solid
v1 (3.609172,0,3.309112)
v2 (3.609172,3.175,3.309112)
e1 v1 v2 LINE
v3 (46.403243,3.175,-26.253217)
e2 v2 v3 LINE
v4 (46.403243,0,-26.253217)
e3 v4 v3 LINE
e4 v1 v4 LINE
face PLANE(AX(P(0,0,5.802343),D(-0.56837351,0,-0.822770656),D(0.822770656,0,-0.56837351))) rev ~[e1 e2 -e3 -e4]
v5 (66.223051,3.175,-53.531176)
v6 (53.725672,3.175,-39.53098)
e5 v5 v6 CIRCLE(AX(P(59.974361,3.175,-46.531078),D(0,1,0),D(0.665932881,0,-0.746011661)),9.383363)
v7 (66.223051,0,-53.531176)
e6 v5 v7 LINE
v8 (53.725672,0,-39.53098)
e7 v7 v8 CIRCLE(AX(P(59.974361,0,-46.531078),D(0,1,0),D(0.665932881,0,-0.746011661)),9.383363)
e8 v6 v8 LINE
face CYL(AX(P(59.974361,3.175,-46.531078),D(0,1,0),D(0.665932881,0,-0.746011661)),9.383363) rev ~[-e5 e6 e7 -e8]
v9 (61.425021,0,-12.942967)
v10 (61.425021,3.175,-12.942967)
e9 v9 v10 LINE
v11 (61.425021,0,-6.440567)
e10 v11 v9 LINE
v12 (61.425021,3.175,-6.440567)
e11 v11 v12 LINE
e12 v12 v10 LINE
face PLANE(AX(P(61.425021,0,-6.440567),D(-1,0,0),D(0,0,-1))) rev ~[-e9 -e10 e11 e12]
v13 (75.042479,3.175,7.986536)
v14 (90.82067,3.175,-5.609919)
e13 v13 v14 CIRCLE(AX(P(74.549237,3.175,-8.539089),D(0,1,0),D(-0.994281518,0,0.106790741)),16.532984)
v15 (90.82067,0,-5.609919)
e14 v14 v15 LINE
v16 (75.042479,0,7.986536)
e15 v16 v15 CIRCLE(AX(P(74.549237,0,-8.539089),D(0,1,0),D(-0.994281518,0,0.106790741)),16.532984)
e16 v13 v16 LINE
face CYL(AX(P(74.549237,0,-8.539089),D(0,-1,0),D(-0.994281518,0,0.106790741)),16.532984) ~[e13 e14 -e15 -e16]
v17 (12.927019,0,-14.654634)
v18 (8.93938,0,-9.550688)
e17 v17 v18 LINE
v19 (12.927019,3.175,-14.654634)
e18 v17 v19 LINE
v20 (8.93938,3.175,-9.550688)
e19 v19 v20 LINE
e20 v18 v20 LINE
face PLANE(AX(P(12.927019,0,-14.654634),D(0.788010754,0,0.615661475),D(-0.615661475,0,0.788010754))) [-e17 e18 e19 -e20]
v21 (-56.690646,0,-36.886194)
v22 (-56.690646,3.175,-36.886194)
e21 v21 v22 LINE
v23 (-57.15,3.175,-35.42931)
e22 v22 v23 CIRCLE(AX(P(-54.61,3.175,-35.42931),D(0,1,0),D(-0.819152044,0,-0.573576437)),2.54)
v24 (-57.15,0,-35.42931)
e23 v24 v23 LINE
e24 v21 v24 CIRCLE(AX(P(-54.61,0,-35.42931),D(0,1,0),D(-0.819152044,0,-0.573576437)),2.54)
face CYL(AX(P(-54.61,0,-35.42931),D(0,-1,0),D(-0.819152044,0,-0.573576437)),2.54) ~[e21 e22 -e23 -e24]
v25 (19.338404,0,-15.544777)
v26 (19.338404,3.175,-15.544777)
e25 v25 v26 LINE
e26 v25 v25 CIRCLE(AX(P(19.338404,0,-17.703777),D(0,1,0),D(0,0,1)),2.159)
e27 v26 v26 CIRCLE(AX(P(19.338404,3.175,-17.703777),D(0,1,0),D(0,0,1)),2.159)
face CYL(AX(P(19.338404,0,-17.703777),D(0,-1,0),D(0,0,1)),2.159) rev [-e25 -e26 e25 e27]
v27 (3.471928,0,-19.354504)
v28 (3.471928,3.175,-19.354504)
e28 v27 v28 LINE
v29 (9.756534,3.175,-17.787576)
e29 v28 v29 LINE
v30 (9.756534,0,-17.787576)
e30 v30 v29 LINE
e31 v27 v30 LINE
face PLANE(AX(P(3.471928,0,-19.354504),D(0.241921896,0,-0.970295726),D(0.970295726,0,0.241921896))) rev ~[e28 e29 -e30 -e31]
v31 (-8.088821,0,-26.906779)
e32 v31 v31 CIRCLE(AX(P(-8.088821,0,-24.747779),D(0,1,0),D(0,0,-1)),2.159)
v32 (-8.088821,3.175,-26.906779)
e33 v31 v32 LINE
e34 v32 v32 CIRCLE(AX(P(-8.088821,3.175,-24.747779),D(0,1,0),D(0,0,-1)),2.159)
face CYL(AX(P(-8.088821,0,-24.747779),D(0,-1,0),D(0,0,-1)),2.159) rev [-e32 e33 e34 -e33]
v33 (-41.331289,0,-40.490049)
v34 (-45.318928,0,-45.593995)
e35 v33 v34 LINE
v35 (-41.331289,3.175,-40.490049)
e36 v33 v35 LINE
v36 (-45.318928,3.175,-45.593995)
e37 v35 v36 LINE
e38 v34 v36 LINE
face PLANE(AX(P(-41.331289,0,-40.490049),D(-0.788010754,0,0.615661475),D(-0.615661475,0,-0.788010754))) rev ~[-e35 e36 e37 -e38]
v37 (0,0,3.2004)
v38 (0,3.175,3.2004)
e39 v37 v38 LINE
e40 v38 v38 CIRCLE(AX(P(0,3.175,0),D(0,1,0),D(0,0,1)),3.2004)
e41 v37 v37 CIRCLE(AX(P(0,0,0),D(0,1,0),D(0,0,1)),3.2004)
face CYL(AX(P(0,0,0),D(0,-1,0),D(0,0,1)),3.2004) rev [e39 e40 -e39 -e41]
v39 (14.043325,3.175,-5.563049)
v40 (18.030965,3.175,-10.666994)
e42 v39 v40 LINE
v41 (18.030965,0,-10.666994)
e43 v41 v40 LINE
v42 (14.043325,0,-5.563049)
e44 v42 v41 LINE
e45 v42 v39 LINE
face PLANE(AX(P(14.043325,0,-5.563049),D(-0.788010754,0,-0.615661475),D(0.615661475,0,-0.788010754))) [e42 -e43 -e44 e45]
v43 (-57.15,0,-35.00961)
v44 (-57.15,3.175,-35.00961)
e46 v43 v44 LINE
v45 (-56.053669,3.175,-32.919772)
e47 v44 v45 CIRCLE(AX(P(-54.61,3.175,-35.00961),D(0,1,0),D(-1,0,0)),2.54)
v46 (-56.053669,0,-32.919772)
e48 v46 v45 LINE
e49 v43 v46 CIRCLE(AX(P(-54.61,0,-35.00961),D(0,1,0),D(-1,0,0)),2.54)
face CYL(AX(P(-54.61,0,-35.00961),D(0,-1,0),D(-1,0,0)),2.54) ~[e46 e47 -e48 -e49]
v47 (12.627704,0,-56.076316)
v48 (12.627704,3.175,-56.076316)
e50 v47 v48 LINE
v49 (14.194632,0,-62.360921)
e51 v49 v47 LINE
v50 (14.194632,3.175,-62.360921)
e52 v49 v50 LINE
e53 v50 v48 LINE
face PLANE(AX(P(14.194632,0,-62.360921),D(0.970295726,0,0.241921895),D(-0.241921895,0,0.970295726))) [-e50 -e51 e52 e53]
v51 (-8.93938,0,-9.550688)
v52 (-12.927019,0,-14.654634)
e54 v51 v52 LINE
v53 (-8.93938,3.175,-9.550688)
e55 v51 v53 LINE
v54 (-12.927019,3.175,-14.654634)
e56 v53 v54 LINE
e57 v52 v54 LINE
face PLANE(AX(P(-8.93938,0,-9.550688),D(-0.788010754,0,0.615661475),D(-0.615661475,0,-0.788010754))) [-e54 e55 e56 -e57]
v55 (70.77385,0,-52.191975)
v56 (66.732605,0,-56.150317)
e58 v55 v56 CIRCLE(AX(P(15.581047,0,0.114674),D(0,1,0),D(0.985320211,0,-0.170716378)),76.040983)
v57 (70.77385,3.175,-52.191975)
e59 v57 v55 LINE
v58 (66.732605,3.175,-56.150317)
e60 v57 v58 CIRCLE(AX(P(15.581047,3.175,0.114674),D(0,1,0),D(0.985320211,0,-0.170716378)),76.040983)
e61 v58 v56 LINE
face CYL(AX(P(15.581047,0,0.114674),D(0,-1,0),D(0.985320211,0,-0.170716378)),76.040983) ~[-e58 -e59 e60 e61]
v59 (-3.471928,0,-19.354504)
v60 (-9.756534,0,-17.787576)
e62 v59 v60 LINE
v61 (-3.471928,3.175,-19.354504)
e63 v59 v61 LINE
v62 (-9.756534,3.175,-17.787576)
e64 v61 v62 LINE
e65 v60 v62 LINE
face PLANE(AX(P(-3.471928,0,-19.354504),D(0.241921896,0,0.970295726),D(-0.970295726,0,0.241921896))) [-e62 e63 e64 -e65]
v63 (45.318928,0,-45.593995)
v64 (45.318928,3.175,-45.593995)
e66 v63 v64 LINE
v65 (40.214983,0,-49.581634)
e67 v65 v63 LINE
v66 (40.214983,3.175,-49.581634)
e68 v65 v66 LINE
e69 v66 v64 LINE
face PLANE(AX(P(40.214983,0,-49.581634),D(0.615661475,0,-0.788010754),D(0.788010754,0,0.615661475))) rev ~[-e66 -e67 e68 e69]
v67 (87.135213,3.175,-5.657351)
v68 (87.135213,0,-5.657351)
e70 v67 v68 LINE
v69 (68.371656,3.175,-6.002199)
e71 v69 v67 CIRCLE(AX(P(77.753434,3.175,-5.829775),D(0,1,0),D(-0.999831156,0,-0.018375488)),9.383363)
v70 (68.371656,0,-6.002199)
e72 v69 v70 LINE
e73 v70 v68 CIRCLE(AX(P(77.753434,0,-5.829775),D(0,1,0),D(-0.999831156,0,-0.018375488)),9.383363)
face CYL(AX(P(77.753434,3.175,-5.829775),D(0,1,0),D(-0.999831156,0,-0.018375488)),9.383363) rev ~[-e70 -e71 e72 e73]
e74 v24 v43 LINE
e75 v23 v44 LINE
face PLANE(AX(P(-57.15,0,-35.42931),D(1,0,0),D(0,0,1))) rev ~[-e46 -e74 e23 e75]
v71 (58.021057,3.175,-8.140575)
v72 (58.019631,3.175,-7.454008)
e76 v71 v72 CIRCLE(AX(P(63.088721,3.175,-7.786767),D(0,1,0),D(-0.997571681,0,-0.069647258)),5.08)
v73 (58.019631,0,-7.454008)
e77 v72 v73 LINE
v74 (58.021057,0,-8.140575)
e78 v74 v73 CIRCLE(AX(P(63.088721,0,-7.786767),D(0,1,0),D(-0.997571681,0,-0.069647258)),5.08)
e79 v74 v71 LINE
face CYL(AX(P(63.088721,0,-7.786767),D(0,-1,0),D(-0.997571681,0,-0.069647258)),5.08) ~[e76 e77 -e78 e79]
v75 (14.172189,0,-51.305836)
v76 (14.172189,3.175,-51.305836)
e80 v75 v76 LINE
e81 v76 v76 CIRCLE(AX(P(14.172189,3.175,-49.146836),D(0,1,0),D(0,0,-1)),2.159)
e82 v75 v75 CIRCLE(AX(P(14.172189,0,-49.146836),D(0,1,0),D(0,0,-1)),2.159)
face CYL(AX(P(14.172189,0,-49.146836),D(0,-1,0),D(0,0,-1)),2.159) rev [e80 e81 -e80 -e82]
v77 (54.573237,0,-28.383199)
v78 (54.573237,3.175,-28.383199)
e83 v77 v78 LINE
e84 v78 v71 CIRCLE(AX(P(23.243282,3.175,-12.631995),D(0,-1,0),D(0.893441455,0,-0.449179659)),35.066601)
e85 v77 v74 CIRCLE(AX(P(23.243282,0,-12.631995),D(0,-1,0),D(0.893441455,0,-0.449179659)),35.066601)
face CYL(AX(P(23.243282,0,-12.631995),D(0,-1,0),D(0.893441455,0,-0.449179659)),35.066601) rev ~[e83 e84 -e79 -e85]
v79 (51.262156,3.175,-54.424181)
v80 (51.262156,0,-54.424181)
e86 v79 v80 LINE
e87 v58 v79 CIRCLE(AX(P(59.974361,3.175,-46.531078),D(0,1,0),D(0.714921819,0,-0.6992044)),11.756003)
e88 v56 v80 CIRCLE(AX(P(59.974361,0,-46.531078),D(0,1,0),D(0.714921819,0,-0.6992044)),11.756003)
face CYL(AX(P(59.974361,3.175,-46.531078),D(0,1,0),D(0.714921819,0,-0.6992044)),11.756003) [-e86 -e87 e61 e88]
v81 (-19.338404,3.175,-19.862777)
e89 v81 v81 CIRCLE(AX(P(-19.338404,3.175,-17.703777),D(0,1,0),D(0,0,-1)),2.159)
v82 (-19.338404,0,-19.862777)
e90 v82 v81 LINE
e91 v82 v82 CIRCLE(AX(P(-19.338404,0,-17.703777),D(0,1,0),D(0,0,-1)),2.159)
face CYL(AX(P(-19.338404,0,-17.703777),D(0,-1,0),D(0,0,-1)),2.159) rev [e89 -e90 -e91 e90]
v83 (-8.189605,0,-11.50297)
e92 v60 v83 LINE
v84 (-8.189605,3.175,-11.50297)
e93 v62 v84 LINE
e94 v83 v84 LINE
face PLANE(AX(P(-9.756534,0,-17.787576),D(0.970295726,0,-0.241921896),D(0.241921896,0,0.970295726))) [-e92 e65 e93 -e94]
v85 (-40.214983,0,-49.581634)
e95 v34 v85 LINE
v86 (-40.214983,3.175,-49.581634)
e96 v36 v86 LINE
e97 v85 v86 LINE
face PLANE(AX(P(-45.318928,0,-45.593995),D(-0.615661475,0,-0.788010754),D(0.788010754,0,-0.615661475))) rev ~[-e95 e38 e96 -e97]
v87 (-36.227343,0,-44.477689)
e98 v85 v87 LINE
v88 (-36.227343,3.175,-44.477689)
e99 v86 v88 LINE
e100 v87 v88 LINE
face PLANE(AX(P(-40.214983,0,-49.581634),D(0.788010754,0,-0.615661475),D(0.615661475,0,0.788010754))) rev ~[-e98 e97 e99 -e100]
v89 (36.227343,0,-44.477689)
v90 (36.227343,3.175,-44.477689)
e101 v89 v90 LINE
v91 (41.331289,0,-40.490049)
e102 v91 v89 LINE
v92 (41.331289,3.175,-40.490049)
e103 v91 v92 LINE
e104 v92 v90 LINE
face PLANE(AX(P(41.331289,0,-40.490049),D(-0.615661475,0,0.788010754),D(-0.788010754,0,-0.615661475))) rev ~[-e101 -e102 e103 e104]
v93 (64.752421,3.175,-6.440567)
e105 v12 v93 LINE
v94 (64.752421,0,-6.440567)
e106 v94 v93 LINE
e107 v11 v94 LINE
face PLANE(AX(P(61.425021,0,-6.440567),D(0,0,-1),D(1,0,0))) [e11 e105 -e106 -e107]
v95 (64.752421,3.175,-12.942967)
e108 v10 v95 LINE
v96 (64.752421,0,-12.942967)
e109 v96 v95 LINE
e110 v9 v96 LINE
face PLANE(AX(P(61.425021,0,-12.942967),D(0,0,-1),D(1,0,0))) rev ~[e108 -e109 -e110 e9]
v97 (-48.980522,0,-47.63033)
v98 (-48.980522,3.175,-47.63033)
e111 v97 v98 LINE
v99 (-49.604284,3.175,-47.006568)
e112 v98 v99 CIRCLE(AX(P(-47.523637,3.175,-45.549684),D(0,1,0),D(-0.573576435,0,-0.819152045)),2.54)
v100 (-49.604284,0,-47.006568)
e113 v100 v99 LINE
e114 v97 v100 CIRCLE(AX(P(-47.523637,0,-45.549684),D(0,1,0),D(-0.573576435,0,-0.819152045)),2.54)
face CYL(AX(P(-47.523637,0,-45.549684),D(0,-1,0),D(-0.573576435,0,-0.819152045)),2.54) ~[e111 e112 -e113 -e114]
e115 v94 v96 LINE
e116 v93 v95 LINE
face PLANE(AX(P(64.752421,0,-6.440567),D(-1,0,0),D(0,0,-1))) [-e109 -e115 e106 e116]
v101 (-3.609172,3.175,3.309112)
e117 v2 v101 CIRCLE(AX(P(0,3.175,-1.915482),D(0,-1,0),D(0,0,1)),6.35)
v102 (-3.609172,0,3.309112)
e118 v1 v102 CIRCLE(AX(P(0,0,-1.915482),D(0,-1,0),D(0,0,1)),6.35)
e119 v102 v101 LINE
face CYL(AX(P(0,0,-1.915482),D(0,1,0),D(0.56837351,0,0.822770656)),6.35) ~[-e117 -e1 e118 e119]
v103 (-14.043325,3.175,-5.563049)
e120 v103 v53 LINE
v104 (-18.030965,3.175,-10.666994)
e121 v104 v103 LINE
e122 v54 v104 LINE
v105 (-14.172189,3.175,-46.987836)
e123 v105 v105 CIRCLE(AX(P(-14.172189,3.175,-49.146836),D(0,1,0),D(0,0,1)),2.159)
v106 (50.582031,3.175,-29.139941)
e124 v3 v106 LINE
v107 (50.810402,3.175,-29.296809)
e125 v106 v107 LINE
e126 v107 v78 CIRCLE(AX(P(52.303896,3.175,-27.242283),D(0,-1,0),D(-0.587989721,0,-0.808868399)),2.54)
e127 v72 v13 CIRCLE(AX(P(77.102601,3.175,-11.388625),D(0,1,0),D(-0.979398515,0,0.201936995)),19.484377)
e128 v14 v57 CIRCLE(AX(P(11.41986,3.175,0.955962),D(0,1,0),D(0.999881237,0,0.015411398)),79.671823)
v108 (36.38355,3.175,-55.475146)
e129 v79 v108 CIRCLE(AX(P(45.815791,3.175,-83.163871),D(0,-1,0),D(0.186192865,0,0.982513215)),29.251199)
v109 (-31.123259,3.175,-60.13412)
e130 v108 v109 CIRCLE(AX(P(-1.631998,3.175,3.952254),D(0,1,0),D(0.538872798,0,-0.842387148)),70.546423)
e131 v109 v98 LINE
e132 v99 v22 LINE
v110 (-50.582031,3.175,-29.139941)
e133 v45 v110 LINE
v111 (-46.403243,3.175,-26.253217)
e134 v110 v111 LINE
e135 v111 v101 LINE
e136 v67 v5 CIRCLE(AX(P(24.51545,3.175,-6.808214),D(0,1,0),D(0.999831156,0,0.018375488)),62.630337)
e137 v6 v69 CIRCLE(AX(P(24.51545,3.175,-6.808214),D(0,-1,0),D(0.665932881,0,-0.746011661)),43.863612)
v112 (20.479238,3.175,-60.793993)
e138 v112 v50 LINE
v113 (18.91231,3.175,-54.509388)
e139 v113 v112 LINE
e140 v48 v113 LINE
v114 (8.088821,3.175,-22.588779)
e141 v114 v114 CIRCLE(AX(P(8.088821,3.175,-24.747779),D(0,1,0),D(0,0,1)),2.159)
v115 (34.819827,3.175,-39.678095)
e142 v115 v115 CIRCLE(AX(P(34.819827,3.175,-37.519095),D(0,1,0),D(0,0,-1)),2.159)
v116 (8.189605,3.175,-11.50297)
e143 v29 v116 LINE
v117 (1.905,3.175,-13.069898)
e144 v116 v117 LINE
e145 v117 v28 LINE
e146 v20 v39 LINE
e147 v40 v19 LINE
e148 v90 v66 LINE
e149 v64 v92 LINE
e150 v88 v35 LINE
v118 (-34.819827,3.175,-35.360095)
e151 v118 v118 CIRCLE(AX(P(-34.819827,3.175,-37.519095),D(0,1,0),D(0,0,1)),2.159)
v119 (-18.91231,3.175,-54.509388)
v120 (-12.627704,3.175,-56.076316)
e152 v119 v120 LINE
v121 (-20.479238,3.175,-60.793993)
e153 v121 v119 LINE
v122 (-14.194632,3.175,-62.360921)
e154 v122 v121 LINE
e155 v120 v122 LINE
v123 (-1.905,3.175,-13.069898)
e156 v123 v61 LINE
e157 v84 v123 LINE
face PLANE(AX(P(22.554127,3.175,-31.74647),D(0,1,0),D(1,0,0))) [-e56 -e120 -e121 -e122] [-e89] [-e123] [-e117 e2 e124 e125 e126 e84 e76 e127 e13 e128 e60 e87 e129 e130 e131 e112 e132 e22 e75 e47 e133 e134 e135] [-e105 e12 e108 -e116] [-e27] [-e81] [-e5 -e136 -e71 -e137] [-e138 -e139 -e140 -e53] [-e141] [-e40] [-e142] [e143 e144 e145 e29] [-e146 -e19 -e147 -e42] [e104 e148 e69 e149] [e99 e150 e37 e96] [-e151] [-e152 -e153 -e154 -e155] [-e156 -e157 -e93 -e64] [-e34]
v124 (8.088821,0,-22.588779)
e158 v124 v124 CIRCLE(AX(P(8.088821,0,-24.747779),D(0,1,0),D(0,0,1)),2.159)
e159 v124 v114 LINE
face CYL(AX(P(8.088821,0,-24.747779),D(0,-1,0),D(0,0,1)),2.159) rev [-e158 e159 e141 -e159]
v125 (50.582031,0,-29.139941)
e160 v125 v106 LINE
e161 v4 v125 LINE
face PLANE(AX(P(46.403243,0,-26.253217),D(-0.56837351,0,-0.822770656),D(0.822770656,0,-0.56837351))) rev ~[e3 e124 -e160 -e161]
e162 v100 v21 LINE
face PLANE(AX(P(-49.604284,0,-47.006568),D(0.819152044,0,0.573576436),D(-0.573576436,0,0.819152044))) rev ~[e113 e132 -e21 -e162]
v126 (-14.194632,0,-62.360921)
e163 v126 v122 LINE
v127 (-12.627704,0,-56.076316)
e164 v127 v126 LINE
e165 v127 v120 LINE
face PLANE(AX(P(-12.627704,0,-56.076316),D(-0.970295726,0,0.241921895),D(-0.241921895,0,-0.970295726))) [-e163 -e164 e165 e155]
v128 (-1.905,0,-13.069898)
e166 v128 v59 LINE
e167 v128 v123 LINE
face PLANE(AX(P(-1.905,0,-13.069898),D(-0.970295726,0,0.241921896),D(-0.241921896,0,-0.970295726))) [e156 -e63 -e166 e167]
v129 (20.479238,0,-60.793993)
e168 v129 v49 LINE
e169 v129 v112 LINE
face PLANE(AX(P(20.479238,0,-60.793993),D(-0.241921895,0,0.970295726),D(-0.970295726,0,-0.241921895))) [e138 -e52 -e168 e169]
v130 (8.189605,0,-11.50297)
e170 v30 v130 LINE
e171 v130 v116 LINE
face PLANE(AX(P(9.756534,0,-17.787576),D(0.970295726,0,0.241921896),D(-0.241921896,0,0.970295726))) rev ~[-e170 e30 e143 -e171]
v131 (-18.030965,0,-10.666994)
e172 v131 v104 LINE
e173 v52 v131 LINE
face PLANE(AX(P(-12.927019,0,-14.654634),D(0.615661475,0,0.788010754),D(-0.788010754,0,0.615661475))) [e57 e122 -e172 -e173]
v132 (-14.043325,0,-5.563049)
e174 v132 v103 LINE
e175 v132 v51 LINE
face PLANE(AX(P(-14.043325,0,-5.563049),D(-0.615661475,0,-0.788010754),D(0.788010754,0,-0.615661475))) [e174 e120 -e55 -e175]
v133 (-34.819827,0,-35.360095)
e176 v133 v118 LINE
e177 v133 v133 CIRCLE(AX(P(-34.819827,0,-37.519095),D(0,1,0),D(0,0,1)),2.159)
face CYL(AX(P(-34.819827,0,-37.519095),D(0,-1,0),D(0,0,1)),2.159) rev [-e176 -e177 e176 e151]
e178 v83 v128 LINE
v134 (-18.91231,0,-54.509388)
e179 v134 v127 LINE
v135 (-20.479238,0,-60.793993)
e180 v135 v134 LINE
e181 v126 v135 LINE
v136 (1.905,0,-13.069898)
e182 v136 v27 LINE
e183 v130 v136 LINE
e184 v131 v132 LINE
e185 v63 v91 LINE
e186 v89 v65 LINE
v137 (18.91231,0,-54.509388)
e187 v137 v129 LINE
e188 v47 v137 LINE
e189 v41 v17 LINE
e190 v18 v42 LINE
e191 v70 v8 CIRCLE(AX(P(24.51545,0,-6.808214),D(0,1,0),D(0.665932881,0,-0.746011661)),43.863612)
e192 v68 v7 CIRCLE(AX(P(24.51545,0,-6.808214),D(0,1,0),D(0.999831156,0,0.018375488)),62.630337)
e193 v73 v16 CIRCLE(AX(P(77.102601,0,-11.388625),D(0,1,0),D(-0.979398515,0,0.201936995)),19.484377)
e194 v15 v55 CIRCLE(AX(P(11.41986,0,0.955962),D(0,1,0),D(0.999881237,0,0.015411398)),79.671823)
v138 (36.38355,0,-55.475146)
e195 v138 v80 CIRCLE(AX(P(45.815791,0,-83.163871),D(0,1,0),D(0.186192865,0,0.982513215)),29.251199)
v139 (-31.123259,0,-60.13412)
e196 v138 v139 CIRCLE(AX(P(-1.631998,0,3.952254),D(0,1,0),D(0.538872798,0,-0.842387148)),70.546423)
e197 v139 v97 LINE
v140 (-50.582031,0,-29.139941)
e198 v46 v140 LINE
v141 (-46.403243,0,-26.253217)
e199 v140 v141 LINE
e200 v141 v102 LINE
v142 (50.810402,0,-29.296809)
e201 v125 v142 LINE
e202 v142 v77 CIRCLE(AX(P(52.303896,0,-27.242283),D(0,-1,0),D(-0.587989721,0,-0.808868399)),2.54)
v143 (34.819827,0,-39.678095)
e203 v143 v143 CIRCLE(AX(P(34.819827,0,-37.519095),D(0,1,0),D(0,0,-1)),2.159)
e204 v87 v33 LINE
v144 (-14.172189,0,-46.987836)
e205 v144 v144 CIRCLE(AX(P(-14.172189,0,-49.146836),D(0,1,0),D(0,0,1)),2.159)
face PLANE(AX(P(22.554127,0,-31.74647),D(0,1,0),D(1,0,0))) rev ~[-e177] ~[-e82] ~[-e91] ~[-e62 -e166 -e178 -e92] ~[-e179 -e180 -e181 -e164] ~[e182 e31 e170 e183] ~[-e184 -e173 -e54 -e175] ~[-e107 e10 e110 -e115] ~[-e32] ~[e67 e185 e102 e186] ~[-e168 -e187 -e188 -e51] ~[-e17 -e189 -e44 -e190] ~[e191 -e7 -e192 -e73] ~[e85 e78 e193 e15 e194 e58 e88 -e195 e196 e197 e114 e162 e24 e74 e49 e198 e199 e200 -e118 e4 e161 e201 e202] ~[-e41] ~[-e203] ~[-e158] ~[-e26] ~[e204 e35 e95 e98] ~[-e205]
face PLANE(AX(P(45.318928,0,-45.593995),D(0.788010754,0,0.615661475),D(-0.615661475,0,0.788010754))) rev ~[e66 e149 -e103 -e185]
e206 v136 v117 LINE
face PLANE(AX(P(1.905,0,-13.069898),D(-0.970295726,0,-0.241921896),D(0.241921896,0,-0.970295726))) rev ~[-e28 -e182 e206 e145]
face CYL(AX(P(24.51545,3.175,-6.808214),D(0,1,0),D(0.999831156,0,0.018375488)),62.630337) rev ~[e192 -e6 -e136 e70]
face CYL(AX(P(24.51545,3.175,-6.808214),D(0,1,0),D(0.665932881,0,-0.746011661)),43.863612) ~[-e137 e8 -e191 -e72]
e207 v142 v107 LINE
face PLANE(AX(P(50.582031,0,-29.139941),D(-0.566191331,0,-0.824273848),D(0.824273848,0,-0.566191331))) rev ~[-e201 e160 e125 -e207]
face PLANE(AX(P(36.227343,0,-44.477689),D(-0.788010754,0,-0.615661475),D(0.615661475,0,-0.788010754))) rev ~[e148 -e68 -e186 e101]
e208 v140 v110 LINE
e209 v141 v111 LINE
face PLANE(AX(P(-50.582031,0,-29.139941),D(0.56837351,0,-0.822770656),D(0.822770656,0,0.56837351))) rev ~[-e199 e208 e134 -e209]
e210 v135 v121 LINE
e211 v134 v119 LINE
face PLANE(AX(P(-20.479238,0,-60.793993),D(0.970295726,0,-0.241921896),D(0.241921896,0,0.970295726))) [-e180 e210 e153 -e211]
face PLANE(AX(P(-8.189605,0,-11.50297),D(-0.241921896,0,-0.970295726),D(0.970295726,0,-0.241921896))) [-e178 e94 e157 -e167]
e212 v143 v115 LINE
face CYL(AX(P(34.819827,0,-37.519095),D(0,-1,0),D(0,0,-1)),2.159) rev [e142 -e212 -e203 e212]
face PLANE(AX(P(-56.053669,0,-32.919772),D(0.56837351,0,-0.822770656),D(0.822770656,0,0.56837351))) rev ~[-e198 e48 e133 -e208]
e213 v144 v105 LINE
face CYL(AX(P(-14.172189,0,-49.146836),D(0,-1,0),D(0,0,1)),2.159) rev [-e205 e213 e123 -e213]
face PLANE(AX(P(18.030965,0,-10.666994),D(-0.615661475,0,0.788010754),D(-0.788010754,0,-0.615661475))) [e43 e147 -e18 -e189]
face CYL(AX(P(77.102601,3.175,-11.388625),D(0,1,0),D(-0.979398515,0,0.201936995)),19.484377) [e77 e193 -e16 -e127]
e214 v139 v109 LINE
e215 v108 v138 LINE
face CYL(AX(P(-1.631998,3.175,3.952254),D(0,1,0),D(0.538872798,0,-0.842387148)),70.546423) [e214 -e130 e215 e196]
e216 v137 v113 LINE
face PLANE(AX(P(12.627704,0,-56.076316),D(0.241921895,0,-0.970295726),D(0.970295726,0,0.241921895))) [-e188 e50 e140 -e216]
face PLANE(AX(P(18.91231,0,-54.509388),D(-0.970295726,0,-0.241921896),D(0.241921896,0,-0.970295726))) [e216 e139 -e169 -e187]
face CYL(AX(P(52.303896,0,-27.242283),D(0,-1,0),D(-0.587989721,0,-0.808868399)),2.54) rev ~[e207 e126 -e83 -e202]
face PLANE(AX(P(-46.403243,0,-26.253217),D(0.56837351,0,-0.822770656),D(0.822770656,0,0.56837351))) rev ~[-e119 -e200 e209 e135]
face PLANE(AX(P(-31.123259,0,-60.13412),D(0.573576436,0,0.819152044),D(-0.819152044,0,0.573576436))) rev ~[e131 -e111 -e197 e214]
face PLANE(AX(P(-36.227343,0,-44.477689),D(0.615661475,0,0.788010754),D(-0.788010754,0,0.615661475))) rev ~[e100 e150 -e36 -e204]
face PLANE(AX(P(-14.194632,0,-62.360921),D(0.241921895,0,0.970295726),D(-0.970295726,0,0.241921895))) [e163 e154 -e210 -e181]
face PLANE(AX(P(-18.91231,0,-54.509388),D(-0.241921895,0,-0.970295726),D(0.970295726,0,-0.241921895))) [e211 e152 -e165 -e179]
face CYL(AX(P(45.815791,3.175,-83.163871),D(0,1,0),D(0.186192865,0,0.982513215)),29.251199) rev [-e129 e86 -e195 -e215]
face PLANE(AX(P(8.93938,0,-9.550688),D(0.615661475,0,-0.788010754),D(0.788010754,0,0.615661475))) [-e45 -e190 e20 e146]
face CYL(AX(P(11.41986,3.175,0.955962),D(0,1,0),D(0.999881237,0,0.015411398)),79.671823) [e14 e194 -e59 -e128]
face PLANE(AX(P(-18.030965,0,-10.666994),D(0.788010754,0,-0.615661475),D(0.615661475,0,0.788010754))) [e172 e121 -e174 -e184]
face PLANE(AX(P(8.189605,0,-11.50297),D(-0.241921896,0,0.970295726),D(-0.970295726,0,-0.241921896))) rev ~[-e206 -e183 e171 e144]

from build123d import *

# Parameters (mm, degrees)
SKETCH1_R           = 3.2004
SKETCH1_R_2         = 2.159
SKETCH1_W           = 3.3274
SKETCH1_H           = 6.5024
BOSS_EXTRUDE1_DEPTH = 3.175
FILLET1_R           = 6.35
CUT_EXTRUDE1_DEPTH  = 119.620638985
CUT_EXTRUDE2_DEPTH  = 119.620638985


with BuildPart() as part:
    # Sketch1 → Boss-Extrude1 (new body)
    with BuildSketch(Plane(origin=(0, 0, 0), x_dir=(1, 0, 0), z_dir=(0, 1, 0))):
        with BuildLine():
            Line((46.403243059, 26.253216793), (50.58203093, 29.139941438))
            Line((50.58203093, 29.139941438), (50.810401684, 29.296808651))
            ThreePointArc((50.810401684, 29.296808651), (52.903191273, 29.710570717), (54.573236871, 28.38319925))
            ThreePointArc((54.573236871, 28.38319925), (57.812038803, 18.519910789), (58.021057072, 8.140575136))
            ThreePointArc((58.021057072, 8.140575136), (58.019631397, 7.454008247), (58.110797015, 6.773519483))
            ThreePointArc((58.110797015, 6.773519483), (77.605374828, -7.708974753), (90.50576443, 12.866767069))
            ThreePointArc((90.50576443, 12.866767069), (43.472529066, 70.626376988), (-30.323774881, 60.506925891))
            ThreePointArc((-30.323774881, 60.506925891), (-30.739824891, 60.355496072), (-31.123258654, 60.134120485))
            Line((-31.123258654, 60.134120485), (-48.980521588, 47.630330367))
            ThreePointArc((-48.980521588, 47.630330367), (-49.319688664, 47.345735399), (-49.604283632, 47.006568323))
            Line((-49.604283632, 47.006568323), (-56.690646192, 36.886193758))
            ThreePointArc((-56.690646192, 36.886193758), (-57.032441055, 36.19310234), (-57.15, 35.429309609))
            Line((-57.15, 35.429309609), (-57.15, 35.009609836))
            ThreePointArc((-57.15, 35.009609836), (-56.859279722, 33.82963495), (-56.053668716, 32.919772369))
            Line((-56.053668716, 32.919772369), (-50.58203093, 29.139941438))
            Line((-50.58203093, 29.139941438), (-46.403243059, 26.253216793))
            Line((-46.403243059, 26.253216793), (0, -5.80234322))
            Line((0, -5.80234322), (46.403243059, 26.253216793))
        make_face()
        with Locations(Location((0, 0, 0), (0, 0, 270))):
            Circle(SKETCH1_R, mode=Mode.SUBTRACT)
        with Locations(Location((-14.172189073, 49.146835797, 0), (0, 0, 270))):
            Circle(SKETCH1_R_2, mode=Mode.SUBTRACT)
        with Locations(Location((-8.088821086, 24.747779464, 0), (0, 0, 90))):
            Circle(SKETCH1_R_2, mode=Mode.SUBTRACT)
        with Locations(Location((-34.819826997, 37.519095065, 0), (0, 0, 270))):
            Circle(SKETCH1_R_2, mode=Mode.SUBTRACT)
        with Locations(Location((-19.338403539, 17.703776655, 0), (0, 0, 90))):
            Circle(SKETCH1_R_2, mode=Mode.SUBTRACT)
        with Locations(Location((34.819826997, 37.519095065, 0), (0, 0, 90))):
            Circle(SKETCH1_R_2, mode=Mode.SUBTRACT)
        with Locations(Location((19.338403539, 17.703776655, 0), (0, 0, 270))):
            Circle(SKETCH1_R_2, mode=Mode.SUBTRACT)
        with Locations(Location((8.088821086, 24.747779464, 0), (0, 0, 270))):
            Circle(SKETCH1_R_2, mode=Mode.SUBTRACT)
        with Locations(Location((14.172189073, 49.146835797, 0), (0, 0, 90))):
            Circle(SKETCH1_R_2, mode=Mode.SUBTRACT)
        Polygon((-14.194632296, 62.360921096), (-20.479237716, 60.793992979), (-18.912309598, 54.50938756), (-12.627704179, 56.076315677), align=None, mode=Mode.SUBTRACT)
        Polygon((-3.471928118, 19.354503621), (-9.756533537, 17.787575503), (-8.189605419, 11.502970084), (-1.905, 13.069898202), align=None, mode=Mode.SUBTRACT)
        Polygon((-12.927019028, 14.654633554), (-18.030964679, 10.666994178), (-14.043325303, 5.563048527), (-8.939379652, 9.550687903), align=None, mode=Mode.SUBTRACT)
        Polygon((-36.227343223, 44.477688535), (-41.331288874, 40.490049159), (-45.31892825, 45.59399481), (-40.214982599, 49.581634186), align=None, mode=Mode.SUBTRACT)
        Polygon((40.214982599, 49.581634186), (45.31892825, 45.59399481), (41.331288874, 40.490049159), (36.227343223, 44.477688535), align=None, mode=Mode.SUBTRACT)
        Polygon((8.939379652, 9.550687903), (14.043325303, 5.563048527), (18.030964679, 10.666994178), (12.927019028, 14.654633554), align=None, mode=Mode.SUBTRACT)
        Polygon((9.756533537, 17.787575503), (8.189605419, 11.502970084), (1.905, 13.069898202), (3.471928118, 19.354503621), align=None, mode=Mode.SUBTRACT)
        Polygon((14.194632296, 62.360921096), (12.627704179, 56.076315677), (18.912309598, 54.50938756), (20.479237716, 60.793992979), align=None, mode=Mode.SUBTRACT)
        with Locations((63.088721213, 9.69176707)):
            Rectangle(SKETCH1_W, SKETCH1_H, mode=Mode.SUBTRACT)
    extrude(amount=BOSS_EXTRUDE1_DEPTH)

    # Fillet1
    fillet1_edges = [part.edges().sort_by_distance(p)[0] for p in [
        (0, 1.5875, 5.80234322),
    ]]
    fillet(fillet1_edges, radius=FILLET1_R)

    # Sketch2 → Cut-Extrude1 (cut, through all)
    with BuildSketch(Plane(origin=(0, 3.175, 0), x_dir=(1, 0, 0), z_dir=(0, 1, 0))):
        with BuildLine():
            ThreePointArc((87.135212516, 5.657351319), (81.909051328, 31.878788039), (66.223051077, 53.53117591))
            ThreePointArc((66.223051077, 53.53117591), (52.97426357, 52.779767692), (53.725671788, 39.530980185))
            ThreePointArc((53.725671788, 39.530980185), (64.711476112, 24.366572912), (68.371656098, 6.002199057))
            ThreePointArc((68.371656098, 6.002199057), (77.581010438, -3.552003021), (87.135212516, 5.657351319))
        make_face()
    extrude(amount=-CUT_EXTRUDE1_DEPTH, mode=Mode.SUBTRACT)

    # Sketch3 → Cut-Extrude2 (cut, through all)
    with BuildSketch(Plane(origin=(0, 3.175, 0), x_dir=(1, 0, 0), z_dir=(0, 1, 0))):
        with BuildLine():
            ThreePointArc((91.082221145, -2.183816518), (85.424919637, 28.55421491), (68.37898463, 54.750927226))
            ThreePointArc((68.37898463, 54.750927226), (59.749990126, 58.284939929), (51.262155566, 54.424181401))
            ThreePointArc((51.262155566, 54.424181401), (43.754739182, 53.985373594), (36.383549974, 55.4751463))
            ThreePointArc((36.383549974, 55.4751463), (3.225200598, 66.426758828), (-31.123258654, 60.134120485))
            ThreePointArc((-31.123258654, 60.134120485), (64.717904465, 75.405291468), (123.015996485, -2.183816518))
            ThreePointArc((123.015996485, -2.183816518), (86.509258073, -24.398136946), (58.019631397, 7.454008247))
            ThreePointArc((58.019631397, 7.454008247), (71.64980722, -7.317202642), (91.082221145, -2.183816518))
        make_face()
    extrude(amount=-CUT_EXTRUDE2_DEPTH, mode=Mode.SUBTRACT)


solid = part.part
